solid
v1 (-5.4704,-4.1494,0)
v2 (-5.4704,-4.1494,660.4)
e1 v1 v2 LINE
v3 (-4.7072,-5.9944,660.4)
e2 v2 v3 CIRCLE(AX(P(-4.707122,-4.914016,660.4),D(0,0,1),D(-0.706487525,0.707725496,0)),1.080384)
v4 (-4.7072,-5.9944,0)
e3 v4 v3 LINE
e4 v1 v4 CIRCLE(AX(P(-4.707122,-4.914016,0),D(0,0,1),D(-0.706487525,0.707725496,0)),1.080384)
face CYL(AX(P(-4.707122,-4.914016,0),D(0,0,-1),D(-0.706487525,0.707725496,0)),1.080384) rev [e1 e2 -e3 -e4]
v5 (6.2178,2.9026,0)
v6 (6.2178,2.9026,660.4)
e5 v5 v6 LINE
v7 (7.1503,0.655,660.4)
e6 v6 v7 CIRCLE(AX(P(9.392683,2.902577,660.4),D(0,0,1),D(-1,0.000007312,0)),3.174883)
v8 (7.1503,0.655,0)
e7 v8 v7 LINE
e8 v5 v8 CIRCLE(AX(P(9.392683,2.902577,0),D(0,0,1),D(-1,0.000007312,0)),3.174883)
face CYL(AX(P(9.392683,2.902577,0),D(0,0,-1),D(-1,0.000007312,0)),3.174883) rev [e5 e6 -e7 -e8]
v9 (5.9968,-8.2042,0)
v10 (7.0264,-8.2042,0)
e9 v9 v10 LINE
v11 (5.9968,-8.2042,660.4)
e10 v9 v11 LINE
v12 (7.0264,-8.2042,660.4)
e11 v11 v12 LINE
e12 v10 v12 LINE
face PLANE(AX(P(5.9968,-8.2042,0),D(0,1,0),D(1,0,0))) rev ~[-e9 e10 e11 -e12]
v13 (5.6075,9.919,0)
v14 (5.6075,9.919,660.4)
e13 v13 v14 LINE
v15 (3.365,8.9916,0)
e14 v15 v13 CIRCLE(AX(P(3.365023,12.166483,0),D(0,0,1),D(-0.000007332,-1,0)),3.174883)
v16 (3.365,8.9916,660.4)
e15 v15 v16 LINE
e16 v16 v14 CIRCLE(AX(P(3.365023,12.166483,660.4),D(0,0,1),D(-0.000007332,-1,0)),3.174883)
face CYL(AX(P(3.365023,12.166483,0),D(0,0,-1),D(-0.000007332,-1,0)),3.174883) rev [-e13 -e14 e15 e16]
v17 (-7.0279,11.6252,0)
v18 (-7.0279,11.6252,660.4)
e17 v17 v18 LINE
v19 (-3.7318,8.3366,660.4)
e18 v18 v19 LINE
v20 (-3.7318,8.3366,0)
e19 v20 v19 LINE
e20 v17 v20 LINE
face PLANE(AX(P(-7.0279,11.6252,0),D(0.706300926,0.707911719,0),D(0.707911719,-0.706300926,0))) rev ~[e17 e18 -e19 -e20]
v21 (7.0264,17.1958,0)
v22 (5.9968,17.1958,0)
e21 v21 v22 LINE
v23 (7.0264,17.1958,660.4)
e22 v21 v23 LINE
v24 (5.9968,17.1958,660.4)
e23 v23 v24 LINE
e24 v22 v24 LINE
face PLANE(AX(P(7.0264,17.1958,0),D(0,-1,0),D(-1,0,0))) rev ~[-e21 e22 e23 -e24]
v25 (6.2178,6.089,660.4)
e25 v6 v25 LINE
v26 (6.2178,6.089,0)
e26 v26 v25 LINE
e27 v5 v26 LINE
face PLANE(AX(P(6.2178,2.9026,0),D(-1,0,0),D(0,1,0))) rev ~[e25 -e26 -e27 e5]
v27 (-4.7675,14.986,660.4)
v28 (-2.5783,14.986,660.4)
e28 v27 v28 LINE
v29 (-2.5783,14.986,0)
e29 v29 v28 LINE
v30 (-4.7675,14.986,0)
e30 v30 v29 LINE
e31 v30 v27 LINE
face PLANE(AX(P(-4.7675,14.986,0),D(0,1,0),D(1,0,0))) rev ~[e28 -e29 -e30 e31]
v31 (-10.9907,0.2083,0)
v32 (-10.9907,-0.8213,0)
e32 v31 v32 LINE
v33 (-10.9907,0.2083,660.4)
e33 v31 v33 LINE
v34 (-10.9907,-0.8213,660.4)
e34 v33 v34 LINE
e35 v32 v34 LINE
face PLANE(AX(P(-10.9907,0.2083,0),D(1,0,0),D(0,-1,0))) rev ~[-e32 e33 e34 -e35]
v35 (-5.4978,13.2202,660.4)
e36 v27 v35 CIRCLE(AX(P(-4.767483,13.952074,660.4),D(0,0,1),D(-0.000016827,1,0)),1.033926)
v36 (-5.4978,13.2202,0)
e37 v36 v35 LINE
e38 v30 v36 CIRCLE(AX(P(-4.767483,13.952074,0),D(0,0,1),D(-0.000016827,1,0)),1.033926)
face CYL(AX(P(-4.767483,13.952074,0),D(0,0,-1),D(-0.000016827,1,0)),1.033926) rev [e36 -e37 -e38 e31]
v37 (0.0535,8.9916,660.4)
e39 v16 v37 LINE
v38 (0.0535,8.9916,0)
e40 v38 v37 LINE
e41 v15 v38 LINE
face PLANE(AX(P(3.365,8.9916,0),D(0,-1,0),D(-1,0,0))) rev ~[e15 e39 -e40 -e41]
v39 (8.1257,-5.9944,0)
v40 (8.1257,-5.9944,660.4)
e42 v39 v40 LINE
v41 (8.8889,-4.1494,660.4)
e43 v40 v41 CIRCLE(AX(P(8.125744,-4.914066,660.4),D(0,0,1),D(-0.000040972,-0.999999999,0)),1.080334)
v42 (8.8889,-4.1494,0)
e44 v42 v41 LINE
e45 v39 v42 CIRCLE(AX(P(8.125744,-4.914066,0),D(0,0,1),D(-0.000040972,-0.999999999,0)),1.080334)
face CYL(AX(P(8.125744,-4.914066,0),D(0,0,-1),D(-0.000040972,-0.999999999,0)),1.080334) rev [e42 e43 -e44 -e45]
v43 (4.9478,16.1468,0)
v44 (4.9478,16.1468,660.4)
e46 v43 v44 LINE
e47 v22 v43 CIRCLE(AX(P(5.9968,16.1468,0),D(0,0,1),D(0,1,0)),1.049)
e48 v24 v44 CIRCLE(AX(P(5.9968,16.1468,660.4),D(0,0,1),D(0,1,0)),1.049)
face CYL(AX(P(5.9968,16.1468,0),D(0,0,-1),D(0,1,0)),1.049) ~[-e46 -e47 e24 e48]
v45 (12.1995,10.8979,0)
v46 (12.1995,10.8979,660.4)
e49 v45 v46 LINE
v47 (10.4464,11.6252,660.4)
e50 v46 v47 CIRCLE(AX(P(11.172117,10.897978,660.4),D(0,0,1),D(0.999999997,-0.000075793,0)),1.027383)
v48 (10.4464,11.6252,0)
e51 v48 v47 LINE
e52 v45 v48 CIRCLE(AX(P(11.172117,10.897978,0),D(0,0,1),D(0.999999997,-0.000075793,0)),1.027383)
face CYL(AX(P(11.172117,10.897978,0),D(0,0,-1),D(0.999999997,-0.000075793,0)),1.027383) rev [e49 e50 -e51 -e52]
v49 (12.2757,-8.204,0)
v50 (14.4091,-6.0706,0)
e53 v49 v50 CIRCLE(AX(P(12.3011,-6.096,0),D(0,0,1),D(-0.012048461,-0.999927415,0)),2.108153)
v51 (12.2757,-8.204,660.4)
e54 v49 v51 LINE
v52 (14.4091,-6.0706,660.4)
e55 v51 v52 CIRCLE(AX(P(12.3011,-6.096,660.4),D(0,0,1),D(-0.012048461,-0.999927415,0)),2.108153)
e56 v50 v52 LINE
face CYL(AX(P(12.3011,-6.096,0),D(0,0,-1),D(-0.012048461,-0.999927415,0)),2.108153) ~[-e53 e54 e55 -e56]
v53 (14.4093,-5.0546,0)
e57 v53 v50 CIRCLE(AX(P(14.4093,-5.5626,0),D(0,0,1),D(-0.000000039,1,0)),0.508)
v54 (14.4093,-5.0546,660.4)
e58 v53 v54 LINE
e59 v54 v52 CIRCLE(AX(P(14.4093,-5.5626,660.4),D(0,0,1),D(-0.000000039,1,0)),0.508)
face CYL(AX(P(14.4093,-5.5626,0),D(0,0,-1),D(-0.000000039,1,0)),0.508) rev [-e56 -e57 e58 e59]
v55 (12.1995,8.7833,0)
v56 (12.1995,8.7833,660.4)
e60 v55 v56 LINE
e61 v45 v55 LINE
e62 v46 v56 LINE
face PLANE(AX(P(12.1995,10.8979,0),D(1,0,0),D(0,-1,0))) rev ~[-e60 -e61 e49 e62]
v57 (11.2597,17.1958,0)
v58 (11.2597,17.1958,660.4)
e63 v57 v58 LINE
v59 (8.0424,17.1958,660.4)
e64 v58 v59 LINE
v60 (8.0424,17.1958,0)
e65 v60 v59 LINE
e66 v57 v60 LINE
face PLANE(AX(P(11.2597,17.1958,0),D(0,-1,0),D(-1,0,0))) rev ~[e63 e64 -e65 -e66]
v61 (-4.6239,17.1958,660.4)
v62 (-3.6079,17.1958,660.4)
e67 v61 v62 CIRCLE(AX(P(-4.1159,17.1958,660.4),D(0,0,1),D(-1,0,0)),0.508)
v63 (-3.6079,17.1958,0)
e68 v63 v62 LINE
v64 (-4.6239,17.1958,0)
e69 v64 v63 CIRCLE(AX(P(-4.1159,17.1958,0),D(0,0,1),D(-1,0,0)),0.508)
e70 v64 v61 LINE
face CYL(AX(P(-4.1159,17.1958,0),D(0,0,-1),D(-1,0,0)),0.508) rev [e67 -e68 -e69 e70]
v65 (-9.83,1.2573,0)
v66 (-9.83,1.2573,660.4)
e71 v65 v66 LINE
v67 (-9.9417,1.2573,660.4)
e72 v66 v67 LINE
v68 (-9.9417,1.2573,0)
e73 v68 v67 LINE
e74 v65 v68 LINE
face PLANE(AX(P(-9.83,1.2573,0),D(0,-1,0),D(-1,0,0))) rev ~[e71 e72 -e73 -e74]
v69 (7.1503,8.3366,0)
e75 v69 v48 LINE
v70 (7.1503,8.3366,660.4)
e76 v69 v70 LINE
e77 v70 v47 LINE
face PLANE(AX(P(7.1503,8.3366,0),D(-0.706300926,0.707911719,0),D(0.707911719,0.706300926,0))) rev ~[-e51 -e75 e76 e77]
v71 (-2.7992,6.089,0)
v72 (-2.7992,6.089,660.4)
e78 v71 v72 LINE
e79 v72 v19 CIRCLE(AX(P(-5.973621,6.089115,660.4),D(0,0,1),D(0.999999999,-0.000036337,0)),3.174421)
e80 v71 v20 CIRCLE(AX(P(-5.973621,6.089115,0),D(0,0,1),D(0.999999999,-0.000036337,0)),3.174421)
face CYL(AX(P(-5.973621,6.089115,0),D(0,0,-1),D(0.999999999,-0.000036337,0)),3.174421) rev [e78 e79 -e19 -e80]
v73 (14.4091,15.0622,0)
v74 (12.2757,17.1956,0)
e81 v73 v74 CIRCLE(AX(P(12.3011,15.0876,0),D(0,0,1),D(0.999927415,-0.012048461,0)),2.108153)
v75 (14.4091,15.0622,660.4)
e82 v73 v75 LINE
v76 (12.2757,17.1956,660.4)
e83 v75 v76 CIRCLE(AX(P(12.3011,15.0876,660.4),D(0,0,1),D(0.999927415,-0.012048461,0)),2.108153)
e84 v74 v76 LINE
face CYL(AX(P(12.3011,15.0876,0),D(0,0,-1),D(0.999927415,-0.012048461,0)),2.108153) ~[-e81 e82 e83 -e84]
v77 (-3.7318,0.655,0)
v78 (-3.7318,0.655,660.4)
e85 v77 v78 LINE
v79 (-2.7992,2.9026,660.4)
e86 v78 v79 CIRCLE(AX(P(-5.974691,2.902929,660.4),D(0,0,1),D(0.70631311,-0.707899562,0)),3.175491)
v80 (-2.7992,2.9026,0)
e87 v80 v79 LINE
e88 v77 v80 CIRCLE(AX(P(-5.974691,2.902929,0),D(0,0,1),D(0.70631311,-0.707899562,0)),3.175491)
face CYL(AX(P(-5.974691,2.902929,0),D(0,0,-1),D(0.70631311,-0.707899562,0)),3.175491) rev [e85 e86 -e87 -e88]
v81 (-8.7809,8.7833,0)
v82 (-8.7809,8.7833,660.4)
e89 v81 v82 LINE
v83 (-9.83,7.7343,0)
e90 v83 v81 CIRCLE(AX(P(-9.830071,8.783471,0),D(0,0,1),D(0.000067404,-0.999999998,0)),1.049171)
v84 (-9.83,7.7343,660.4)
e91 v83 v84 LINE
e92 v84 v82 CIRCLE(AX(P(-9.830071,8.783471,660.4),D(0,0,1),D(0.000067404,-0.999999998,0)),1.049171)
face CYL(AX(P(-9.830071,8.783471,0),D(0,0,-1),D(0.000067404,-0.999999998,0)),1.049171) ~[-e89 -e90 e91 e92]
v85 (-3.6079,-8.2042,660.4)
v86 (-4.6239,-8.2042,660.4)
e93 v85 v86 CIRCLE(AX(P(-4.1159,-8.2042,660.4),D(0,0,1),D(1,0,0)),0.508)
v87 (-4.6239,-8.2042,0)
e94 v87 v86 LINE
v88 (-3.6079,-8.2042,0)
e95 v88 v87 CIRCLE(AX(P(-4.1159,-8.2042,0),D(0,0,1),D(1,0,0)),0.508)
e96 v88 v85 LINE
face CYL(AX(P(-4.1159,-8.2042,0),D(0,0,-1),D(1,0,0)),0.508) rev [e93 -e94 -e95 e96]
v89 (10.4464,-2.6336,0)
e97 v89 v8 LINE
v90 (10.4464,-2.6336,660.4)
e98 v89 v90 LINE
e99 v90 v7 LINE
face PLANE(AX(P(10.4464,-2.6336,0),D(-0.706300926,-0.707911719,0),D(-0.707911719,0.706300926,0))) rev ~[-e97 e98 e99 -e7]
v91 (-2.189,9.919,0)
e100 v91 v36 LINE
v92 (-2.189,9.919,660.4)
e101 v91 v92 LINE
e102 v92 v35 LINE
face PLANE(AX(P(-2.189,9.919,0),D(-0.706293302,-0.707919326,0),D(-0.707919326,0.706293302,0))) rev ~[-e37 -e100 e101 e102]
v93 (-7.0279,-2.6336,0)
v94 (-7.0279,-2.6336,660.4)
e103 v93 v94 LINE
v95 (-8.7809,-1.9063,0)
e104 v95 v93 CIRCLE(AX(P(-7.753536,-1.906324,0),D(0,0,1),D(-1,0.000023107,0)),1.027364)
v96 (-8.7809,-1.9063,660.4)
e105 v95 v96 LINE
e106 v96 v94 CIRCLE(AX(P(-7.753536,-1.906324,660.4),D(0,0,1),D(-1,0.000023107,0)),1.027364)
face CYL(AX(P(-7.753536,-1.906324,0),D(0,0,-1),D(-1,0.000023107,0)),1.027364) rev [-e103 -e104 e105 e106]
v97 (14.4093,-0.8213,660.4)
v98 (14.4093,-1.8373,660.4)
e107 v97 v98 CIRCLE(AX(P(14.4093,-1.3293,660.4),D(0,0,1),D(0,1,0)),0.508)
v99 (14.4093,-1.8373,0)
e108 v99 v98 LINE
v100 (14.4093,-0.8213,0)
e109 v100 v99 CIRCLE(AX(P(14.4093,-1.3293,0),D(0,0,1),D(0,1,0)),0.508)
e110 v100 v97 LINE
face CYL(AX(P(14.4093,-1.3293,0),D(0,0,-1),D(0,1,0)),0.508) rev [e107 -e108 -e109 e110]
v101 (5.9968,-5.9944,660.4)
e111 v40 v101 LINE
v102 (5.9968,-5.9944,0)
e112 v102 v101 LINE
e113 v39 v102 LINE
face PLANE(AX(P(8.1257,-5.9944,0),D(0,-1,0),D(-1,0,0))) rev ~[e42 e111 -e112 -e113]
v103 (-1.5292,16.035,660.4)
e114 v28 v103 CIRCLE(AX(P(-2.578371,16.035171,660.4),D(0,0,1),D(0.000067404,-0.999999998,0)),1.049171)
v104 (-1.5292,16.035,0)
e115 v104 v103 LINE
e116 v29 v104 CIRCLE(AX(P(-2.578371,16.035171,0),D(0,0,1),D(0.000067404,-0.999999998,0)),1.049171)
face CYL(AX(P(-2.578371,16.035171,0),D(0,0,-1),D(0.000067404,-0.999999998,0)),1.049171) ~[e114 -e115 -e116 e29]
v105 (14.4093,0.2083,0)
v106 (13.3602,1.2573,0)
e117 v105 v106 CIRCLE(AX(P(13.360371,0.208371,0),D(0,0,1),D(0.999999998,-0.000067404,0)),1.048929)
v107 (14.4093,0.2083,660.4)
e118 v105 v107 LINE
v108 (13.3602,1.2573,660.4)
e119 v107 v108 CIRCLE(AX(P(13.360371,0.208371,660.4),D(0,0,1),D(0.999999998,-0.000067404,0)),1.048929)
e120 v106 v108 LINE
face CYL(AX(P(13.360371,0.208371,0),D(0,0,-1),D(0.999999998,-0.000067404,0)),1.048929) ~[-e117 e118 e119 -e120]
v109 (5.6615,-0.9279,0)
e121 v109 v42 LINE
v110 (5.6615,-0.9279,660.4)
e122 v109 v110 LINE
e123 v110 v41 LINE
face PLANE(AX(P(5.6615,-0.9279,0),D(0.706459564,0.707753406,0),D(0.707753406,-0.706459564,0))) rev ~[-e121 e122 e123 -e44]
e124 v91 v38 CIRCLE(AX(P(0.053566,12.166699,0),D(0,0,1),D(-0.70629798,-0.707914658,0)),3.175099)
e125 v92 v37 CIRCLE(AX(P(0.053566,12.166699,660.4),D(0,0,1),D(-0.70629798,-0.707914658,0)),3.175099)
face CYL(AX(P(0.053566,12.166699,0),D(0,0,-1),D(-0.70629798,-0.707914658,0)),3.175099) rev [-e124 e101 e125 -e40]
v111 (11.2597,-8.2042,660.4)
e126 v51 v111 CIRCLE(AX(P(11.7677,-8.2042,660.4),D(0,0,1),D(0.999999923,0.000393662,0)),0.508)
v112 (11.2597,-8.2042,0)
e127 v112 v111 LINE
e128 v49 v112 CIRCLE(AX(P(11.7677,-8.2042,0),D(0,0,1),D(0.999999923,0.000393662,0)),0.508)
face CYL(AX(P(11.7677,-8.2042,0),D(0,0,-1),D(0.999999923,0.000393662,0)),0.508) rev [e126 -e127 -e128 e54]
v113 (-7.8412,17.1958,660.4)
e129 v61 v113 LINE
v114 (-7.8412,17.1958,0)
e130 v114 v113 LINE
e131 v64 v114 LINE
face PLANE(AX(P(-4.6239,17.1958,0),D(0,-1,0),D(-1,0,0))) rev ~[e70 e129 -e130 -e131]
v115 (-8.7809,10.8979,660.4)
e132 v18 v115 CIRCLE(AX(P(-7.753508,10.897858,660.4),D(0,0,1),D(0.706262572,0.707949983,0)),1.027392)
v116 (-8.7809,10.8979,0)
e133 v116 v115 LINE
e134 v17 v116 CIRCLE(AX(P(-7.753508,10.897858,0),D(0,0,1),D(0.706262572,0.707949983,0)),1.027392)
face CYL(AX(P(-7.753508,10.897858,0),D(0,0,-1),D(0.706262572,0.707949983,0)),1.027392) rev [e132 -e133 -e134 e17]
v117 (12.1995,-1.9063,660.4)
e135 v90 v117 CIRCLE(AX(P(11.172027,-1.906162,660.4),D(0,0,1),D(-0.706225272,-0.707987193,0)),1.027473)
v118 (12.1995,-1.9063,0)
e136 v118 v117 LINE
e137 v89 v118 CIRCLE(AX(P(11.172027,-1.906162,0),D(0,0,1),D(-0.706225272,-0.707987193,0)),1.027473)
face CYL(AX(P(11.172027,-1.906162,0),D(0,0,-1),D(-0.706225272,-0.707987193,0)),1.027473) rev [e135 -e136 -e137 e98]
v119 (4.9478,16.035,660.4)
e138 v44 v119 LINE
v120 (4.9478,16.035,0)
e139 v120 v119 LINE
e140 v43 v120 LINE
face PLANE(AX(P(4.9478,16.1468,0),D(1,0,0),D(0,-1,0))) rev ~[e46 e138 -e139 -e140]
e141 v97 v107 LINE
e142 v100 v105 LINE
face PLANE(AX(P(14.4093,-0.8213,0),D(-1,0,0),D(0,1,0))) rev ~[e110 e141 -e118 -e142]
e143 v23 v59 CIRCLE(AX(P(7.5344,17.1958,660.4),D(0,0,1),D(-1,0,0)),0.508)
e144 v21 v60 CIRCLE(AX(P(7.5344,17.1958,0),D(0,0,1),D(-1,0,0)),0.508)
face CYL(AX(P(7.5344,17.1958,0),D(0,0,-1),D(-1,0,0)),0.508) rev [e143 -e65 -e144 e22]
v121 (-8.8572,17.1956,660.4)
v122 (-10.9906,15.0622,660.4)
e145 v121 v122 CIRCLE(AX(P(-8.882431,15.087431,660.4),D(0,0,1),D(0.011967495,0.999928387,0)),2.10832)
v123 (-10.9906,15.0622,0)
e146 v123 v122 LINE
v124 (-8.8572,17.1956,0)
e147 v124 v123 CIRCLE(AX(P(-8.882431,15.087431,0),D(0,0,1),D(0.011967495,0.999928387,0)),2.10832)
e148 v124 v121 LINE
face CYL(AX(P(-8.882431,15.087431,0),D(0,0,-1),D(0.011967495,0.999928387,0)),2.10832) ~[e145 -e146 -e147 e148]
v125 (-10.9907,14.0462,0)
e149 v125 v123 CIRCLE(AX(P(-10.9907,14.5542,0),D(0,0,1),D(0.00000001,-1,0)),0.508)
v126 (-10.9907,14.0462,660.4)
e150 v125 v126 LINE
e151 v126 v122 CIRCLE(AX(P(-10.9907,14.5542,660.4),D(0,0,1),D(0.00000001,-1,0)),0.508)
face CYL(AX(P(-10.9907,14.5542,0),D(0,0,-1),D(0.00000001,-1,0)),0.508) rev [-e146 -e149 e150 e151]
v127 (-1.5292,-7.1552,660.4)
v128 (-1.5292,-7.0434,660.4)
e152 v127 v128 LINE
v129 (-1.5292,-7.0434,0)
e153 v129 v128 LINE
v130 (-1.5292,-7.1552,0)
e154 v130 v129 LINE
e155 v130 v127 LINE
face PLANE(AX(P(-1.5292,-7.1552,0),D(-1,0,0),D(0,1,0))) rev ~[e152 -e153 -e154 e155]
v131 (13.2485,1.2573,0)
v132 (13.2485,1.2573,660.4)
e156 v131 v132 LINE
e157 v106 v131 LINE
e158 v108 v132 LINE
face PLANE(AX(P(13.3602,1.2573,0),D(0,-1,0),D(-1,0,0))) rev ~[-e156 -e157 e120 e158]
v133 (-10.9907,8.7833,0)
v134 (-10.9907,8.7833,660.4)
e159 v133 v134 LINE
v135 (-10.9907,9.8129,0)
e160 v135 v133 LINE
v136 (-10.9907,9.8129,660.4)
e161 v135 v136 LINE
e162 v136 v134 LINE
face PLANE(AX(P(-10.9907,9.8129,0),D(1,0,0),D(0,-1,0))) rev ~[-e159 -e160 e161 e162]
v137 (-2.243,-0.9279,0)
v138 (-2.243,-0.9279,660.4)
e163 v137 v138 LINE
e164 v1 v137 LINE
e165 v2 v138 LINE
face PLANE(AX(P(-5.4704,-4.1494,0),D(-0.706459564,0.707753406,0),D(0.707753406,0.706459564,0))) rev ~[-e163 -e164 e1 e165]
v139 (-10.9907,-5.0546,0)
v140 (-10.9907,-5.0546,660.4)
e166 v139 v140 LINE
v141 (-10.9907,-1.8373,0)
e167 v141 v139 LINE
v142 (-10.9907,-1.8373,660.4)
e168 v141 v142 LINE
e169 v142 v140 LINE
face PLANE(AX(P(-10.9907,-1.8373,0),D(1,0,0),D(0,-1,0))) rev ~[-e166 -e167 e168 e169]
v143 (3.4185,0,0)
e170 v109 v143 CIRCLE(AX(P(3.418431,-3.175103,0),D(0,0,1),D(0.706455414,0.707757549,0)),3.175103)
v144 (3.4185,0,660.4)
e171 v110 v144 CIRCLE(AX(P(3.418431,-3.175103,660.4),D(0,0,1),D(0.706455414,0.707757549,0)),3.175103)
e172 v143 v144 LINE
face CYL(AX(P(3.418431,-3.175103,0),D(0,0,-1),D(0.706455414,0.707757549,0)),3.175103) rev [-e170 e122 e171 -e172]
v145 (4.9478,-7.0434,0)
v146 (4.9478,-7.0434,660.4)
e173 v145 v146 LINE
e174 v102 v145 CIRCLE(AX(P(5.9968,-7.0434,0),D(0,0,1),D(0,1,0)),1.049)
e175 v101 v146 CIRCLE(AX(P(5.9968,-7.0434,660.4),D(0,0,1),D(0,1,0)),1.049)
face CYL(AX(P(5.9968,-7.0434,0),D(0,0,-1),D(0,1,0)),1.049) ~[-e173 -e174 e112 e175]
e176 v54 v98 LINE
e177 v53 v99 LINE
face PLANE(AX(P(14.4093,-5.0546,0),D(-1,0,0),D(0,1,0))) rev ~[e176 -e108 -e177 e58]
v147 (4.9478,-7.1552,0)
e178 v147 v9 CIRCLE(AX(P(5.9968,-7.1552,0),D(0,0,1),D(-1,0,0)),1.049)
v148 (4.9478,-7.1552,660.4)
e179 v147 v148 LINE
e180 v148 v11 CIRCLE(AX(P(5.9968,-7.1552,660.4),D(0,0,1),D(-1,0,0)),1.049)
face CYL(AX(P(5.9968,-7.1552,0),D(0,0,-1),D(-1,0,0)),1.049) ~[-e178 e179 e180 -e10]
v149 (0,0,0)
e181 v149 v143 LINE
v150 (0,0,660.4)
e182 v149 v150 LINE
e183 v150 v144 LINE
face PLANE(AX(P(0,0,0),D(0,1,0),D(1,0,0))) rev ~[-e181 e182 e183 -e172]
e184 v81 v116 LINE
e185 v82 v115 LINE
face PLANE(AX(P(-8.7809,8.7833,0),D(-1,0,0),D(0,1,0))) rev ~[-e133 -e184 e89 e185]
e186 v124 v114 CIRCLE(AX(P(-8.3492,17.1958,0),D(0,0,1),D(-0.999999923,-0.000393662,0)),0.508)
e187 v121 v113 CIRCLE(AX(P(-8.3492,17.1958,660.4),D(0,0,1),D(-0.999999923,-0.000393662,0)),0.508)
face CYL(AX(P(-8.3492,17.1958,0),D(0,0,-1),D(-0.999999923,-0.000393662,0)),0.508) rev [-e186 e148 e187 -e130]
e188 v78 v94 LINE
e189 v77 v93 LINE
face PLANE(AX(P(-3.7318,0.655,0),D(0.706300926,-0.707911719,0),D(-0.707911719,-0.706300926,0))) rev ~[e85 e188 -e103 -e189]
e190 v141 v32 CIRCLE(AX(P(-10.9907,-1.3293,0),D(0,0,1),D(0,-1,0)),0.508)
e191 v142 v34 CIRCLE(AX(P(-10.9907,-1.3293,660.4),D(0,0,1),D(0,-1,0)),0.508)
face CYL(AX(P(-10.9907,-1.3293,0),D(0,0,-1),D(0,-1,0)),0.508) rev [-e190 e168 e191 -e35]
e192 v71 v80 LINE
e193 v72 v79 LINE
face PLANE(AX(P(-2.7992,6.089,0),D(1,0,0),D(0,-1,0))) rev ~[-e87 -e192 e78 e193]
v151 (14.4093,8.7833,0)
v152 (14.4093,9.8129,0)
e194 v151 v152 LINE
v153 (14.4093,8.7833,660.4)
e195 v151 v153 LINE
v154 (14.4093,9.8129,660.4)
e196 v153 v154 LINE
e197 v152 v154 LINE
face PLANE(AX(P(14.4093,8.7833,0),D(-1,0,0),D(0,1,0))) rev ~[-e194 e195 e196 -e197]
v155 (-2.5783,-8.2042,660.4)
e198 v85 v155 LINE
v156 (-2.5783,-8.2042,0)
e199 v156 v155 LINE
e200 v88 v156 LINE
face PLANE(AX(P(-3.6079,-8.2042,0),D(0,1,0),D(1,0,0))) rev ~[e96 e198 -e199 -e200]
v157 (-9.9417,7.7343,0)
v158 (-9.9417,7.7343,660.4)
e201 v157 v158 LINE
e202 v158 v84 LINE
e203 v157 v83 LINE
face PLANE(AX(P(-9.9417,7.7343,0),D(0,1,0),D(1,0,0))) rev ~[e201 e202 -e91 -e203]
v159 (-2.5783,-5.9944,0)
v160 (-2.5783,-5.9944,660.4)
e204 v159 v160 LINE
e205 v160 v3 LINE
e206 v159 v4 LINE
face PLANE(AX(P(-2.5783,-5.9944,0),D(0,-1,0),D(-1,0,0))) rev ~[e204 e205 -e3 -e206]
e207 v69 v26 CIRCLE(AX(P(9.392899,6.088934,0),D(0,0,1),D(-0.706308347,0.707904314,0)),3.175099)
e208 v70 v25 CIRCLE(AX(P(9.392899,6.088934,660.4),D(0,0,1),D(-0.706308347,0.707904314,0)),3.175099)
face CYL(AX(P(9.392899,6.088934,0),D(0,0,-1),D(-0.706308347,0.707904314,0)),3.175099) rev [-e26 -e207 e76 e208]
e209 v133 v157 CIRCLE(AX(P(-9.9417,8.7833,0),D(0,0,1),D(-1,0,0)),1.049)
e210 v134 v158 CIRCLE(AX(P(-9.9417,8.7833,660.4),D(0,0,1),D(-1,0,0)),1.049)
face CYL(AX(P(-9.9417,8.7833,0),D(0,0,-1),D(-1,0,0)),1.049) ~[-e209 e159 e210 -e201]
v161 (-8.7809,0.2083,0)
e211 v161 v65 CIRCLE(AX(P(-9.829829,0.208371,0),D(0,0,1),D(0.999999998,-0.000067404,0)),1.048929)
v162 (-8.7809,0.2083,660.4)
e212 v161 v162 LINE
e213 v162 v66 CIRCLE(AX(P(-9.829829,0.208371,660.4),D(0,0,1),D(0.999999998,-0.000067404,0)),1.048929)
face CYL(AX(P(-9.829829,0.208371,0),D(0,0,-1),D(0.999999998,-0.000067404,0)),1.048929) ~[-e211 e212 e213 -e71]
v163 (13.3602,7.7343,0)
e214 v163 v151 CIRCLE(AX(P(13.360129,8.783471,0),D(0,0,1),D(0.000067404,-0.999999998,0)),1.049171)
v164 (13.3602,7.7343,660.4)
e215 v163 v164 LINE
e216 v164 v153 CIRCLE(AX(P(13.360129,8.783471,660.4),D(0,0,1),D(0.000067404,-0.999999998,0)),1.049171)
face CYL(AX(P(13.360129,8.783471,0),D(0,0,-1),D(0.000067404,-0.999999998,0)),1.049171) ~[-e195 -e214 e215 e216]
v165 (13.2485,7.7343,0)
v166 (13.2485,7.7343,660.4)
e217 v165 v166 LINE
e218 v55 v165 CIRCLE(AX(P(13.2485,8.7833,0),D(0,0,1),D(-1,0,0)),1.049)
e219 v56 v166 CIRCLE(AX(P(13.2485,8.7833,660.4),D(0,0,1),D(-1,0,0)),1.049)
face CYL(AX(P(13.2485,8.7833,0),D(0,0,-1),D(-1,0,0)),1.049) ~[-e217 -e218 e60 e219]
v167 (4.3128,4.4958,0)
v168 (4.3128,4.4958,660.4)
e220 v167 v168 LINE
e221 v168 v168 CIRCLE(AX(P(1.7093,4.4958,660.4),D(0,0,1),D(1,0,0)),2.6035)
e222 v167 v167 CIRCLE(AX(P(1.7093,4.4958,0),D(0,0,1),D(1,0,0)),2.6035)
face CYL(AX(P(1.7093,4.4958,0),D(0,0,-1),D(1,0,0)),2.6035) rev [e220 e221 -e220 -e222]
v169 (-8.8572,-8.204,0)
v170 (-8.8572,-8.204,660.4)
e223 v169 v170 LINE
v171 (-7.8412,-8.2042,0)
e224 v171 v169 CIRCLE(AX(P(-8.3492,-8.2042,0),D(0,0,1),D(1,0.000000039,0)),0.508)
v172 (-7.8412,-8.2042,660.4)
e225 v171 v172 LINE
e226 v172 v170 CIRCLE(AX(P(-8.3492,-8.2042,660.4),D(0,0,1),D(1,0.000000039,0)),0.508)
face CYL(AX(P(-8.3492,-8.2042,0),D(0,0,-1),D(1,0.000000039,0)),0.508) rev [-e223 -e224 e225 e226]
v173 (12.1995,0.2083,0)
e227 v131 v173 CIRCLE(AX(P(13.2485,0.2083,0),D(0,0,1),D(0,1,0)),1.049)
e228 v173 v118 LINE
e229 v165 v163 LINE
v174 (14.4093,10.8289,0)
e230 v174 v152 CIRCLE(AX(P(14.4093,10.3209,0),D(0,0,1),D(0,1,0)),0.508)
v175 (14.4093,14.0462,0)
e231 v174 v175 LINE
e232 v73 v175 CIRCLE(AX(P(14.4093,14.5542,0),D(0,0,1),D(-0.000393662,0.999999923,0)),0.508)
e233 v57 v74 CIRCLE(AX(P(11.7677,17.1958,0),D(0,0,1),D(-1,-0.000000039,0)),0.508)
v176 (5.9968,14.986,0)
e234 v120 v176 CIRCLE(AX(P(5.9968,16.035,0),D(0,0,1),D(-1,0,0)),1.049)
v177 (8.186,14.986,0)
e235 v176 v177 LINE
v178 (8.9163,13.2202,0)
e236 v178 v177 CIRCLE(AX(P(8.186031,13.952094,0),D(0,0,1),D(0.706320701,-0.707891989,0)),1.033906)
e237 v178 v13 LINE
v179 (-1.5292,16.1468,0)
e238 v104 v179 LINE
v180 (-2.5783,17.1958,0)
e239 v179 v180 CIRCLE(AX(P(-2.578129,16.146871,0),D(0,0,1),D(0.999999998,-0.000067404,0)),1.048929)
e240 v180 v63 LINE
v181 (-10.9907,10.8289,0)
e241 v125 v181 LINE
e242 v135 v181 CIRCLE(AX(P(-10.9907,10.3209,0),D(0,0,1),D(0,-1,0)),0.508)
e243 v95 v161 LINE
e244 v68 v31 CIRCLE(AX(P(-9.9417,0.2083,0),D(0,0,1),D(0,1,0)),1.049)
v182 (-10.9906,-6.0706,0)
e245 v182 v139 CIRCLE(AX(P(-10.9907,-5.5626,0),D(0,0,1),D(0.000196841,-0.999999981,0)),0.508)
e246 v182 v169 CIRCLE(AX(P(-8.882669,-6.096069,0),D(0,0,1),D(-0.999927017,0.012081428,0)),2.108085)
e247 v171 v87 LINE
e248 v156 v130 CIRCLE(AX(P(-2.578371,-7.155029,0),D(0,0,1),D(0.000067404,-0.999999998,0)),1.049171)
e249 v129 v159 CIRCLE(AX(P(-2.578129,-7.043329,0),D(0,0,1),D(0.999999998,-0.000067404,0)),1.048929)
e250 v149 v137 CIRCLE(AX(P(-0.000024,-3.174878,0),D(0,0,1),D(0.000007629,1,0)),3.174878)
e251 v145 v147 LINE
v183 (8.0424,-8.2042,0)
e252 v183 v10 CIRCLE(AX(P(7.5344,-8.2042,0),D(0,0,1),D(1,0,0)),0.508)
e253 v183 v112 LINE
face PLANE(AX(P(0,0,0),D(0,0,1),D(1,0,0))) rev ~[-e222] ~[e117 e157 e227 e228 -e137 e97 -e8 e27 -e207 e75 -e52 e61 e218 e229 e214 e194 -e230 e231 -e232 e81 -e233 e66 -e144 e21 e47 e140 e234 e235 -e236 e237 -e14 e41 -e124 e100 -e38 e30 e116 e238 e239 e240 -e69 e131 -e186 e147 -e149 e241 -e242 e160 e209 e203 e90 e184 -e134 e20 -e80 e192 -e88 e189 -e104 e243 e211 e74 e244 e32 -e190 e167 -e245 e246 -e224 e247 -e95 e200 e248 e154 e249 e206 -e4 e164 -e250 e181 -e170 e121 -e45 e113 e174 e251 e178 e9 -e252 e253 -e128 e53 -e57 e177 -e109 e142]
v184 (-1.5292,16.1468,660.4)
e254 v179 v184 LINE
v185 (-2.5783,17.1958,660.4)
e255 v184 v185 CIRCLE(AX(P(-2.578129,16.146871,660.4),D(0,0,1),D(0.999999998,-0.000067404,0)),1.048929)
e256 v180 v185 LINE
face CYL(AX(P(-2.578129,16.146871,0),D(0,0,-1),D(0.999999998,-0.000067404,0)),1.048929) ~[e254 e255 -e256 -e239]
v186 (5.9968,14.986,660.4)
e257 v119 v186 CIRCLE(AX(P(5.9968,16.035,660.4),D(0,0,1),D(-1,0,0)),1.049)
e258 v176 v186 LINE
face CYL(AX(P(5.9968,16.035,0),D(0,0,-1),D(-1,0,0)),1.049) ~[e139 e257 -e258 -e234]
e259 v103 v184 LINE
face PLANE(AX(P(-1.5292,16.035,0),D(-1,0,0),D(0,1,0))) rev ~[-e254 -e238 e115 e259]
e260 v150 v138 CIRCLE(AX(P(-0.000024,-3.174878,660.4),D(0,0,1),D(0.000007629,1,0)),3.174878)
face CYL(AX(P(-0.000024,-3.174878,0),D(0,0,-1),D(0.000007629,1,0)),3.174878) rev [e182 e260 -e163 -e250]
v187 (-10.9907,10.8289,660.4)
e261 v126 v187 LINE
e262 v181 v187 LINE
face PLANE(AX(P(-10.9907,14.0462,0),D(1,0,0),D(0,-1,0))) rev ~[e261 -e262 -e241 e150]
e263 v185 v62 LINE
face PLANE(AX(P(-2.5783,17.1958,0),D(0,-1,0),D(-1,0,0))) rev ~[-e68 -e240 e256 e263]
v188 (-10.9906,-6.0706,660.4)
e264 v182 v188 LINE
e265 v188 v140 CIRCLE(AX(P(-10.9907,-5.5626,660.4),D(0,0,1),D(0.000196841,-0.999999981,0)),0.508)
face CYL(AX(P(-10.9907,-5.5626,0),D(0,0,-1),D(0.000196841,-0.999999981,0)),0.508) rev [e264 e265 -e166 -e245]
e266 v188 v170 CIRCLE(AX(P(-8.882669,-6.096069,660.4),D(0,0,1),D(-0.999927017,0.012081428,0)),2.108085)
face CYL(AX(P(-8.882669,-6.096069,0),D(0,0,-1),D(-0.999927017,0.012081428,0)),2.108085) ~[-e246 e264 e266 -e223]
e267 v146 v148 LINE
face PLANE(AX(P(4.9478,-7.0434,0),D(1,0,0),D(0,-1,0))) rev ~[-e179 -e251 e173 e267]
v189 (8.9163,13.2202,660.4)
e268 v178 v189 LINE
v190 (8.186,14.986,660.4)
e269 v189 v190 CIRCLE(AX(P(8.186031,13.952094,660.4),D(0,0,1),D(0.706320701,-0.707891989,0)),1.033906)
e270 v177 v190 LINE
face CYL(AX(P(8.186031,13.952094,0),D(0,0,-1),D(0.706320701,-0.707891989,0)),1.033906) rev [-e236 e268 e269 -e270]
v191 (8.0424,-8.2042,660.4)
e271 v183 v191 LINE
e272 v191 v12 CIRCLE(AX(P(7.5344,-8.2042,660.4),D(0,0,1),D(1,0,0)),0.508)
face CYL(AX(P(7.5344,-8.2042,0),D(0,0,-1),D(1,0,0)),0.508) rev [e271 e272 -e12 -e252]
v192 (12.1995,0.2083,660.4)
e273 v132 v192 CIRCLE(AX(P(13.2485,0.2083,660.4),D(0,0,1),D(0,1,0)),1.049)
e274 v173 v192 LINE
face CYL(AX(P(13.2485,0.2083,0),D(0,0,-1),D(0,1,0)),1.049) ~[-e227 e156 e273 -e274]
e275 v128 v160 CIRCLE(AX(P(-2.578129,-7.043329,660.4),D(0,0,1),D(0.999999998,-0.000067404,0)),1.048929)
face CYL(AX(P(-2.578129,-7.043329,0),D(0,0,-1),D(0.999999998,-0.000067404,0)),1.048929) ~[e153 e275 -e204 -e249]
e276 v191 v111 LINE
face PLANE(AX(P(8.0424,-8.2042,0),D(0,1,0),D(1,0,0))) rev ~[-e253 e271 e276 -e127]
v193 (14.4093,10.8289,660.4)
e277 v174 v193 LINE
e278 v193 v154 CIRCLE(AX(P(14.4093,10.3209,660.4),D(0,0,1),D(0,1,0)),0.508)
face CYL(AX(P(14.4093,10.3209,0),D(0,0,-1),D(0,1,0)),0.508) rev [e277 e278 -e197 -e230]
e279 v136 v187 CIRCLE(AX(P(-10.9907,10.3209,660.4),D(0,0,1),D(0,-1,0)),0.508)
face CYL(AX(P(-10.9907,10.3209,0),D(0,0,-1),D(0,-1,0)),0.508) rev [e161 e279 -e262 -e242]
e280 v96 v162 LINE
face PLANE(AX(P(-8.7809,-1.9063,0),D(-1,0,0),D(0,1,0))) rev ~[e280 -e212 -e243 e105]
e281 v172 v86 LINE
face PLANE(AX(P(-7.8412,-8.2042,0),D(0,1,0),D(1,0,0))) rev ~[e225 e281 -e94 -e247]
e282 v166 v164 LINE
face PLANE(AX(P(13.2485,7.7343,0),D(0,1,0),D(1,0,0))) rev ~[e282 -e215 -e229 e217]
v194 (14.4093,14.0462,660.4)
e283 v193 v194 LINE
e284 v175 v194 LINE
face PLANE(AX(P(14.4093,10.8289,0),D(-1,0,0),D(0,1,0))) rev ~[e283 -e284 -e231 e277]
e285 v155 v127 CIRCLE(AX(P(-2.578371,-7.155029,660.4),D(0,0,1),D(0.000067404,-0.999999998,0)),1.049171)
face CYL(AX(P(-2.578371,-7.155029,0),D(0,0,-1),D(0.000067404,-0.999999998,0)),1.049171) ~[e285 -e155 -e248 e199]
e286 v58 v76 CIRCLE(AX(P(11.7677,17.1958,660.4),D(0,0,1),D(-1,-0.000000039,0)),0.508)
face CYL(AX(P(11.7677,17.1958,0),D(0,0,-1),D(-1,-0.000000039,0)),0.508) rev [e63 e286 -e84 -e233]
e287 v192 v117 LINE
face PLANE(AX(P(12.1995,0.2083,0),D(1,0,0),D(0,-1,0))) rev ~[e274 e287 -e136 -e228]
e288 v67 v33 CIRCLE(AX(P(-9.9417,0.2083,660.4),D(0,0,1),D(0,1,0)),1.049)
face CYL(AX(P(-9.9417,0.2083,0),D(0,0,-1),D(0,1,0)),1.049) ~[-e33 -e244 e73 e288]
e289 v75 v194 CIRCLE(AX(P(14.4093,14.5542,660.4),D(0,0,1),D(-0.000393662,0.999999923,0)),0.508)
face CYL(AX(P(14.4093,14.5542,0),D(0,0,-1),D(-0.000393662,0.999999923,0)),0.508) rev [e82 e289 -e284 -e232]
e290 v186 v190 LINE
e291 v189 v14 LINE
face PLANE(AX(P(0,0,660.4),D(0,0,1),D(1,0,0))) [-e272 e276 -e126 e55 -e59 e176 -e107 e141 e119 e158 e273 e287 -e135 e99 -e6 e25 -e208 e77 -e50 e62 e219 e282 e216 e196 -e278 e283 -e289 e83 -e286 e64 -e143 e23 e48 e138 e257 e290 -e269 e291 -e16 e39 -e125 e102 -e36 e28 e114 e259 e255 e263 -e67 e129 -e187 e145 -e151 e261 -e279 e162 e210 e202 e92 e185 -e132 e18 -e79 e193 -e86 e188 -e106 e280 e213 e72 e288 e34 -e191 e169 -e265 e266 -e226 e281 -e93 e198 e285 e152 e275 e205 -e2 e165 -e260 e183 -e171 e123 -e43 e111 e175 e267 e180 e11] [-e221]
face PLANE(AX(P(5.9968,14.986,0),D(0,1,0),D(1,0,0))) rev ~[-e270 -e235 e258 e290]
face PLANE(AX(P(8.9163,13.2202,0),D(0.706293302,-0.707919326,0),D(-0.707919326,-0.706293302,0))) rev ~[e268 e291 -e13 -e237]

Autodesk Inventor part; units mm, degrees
ref_plane "YZ Plane" through (0, 0, 0) normal (1, 0, 0) x (0, 1, 0)
ref_plane "XZ Plane" through (0, 0, 0) normal (0, 1, 0) x (-1, 0, 0)
ref_plane "XY Plane" through (0, 0, 0) normal (0, 0, 1) x (1, 0, 0)
sketch "Sketch1" plane through (0, 0, 0) normal (0, 0, 1) x (1, 0, 0)
  arc A0 (-5.4704, -4.1494) -> (-4.7072, -5.9944) centre (-4.7072, -4.914) ccw
  line L0 (-5.4704, -4.1494) -> (-2.243, -0.9279)
  arc A1 (0, 0) -> (-2.243, -0.9279) centre (0, -3.175) ccw
  line L1 (0, 0) -> (3.4185, 0)
  arc A2 (5.6615, -0.9279) -> (3.4185, 0) centre (3.4185, -3.175) ccw
  line L2 (5.6615, -0.9279) -> (8.8889, -4.1494)
  arc A3 (8.1257, -5.9944) -> (8.8889, -4.1494) centre (8.1257, -4.914) ccw
  line L3 (8.1257, -5.9944) -> (5.9968, -5.9944)
  arc A4 (5.9968, -5.9944) -> (4.9478, -7.0434) centre (5.9968, -7.0434) ccw
  line L4 (4.9478, -7.0434) -> (4.9478, -7.1552)
  arc A5 (4.9478, -7.1552) -> (5.9968, -8.2042) centre (5.9968, -7.1552) ccw
  line L5 (5.9968, -8.2042) -> (7.0264, -8.2042)
  arc A6 (8.0424, -8.2042) -> (7.0264, -8.2042) centre (7.5344, -8.2042) ccw
  line L6 (8.0424, -8.2042) -> (11.2597, -8.2042)
  arc A7 (12.2757, -8.204) -> (11.2597, -8.2042) centre (11.7677, -8.2042) ccw
  arc A8 (12.2757, -8.204) -> (14.4091, -6.0706) centre (12.3011, -6.096) ccw
  arc A9 (14.4093, -5.0546) -> (14.4091, -6.0706) centre (14.4093, -5.5626) ccw
  line L7 (14.4093, -5.0546) -> (14.4093, -1.8373)
  arc A10 (14.4093, -0.8213) -> (14.4093, -1.8373) centre (14.4093, -1.3293) ccw
  line L8 (14.4093, -0.8213) -> (14.4093, 0.2083)
  arc A11 (14.4093, 0.2083) -> (13.3602, 1.2573) centre (13.3602, 0.2083) ccw
  line L9 (13.3602, 1.2573) -> (13.2485, 1.2573)
  arc A12 (13.2485, 1.2573) -> (12.1995, 0.2083) centre (13.2485, 0.2083) ccw
  line L10 (12.1995, 0.2083) -> (12.1995, -1.9063)
  arc A13 (10.4464, -2.6336) -> (12.1995, -1.9063) centre (11.172, -1.9063) ccw
  line L11 (10.4464, -2.6336) -> (7.1503, 0.655)
  arc A14 (6.2178, 2.9026) -> (7.1503, 0.655) centre (9.3928, 2.9026) ccw
  line L12 (6.2178, 2.9026) -> (6.2178, 6.089)
  arc A15 (7.1503, 8.3366) -> (6.2178, 6.089) centre (9.3928, 6.089) ccw
  line L13 (7.1503, 8.3366) -> (10.4464, 11.6252)
  arc A16 (12.1995, 10.8979) -> (10.4464, 11.6252) centre (11.172, 10.8979) ccw
  line L14 (12.1995, 10.8979) -> (12.1995, 8.7833)
  arc A17 (12.1995, 8.7833) -> (13.2485, 7.7343) centre (13.2485, 8.7833) ccw
  line L15 (13.2485, 7.7343) -> (13.3602, 7.7343)
  arc A18 (13.3602, 7.7343) -> (14.4093, 8.7833) centre (13.3602, 8.7833) ccw
  line L16 (14.4093, 8.7833) -> (14.4093, 9.8129)
  arc A19 (14.4093, 10.8289) -> (14.4093, 9.8129) centre (14.4093, 10.3209) ccw
  line L17 (14.4093, 10.8289) -> (14.4093, 14.0462)
  arc A20 (14.4091, 15.0622) -> (14.4093, 14.0462) centre (14.4093, 14.5542) ccw
  arc A21 (14.4091, 15.0622) -> (12.2757, 17.1956) centre (12.3011, 15.0876) ccw
  arc A22 (11.2597, 17.1958) -> (12.2757, 17.1956) centre (11.7677, 17.1958) ccw
  line L18 (11.2597, 17.1958) -> (8.0424, 17.1958)
  arc A23 (7.0264, 17.1958) -> (8.0424, 17.1958) centre (7.5344, 17.1958) ccw
  line L19 (7.0264, 17.1958) -> (5.9968, 17.1958)
  arc A24 (5.9968, 17.1958) -> (4.9478, 16.1468) centre (5.9968, 16.1468) ccw
  line L20 (4.9478, 16.1468) -> (4.9478, 16.035)
  arc A25 (4.9478, 16.035) -> (5.9968, 14.986) centre (5.9968, 16.035) ccw
  line L21 (5.9968, 14.986) -> (8.186, 14.986)
  arc A26 (8.9163, 13.2202) -> (8.186, 14.986) centre (8.186, 13.9521) ccw
  line L22 (8.9163, 13.2202) -> (5.6075, 9.919)
  arc A27 (3.365, 8.9916) -> (5.6075, 9.919) centre (3.365, 12.1666) ccw
  line L23 (3.365, 8.9916) -> (0.0535, 8.9916)
  arc A28 (-2.189, 9.919) -> (0.0535, 8.9916) centre (0.0535, 12.1666) ccw
  line L24 (-2.189, 9.919) -> (-5.4978, 13.2202)
  arc A29 (-4.7675, 14.986) -> (-5.4978, 13.2202) centre (-4.7675, 13.9521) ccw
  line L25 (-4.7675, 14.986) -> (-2.5783, 14.986)
  arc A30 (-2.5783, 14.986) -> (-1.5292, 16.035) centre (-2.5783, 16.035) ccw
  line L26 (-1.5292, 16.035) -> (-1.5292, 16.1468)
  arc A31 (-1.5292, 16.1468) -> (-2.5783, 17.1958) centre (-2.5783, 16.1468) ccw
  line L27 (-2.5783, 17.1958) -> (-3.6079, 17.1958)
  arc A32 (-4.6239, 17.1958) -> (-3.6079, 17.1958) centre (-4.1159, 17.1958) ccw
  line L28 (-4.6239, 17.1958) -> (-7.8412, 17.1958)
  arc A33 (-8.8572, 17.1956) -> (-7.8412, 17.1958) centre (-8.3492, 17.1958) ccw
  arc A34 (-8.8572, 17.1956) -> (-10.9906, 15.0622) centre (-8.8825, 15.0876) ccw
  arc A35 (-10.9907, 14.0462) -> (-10.9906, 15.0622) centre (-10.9907, 14.5542) ccw
  line L29 (-10.9907, 14.0462) -> (-10.9907, 10.8289)
  arc A36 (-10.9907, 9.8129) -> (-10.9907, 10.8289) centre (-10.9907, 10.3209) ccw
  line L30 (-10.9907, 9.8129) -> (-10.9907, 8.7833)
  arc A37 (-10.9907, 8.7833) -> (-9.9417, 7.7343) centre (-9.9417, 8.7833) ccw
  line L31 (-9.9417, 7.7343) -> (-9.83, 7.7343)
  arc A38 (-9.83, 7.7343) -> (-8.7809, 8.7833) centre (-9.83, 8.7833) ccw
  line L32 (-8.7809, 8.7833) -> (-8.7809, 10.8979)
  arc A39 (-7.0279, 11.6252) -> (-8.7809, 10.8979) centre (-7.7535, 10.8979) ccw
  line L33 (-7.0279, 11.6252) -> (-3.7318, 8.3366)
  arc A40 (-2.7992, 6.089) -> (-3.7318, 8.3366) centre (-5.9742, 6.089) ccw
  line L34 (-2.7992, 6.089) -> (-2.7992, 2.9026)
  arc A41 (-3.7318, 0.655) -> (-2.7992, 2.9026) centre (-5.9742, 2.9026) ccw
  line L35 (-3.7318, 0.655) -> (-7.0279, -2.6336)
  arc A42 (-8.7809, -1.9063) -> (-7.0279, -2.6336) centre (-7.7535, -1.9063) ccw
  line L36 (-8.7809, -1.9063) -> (-8.7809, 0.2083)
  arc A43 (-8.7809, 0.2083) -> (-9.83, 1.2573) centre (-9.83, 0.2083) ccw
  line L37 (-9.83, 1.2573) -> (-9.9417, 1.2573)
  arc A44 (-9.9417, 1.2573) -> (-10.9907, 0.2083) centre (-9.9417, 0.2083) ccw
  line L38 (-10.9907, 0.2083) -> (-10.9907, -0.8213)
  arc A45 (-10.9907, -1.8373) -> (-10.9907, -0.8213) centre (-10.9907, -1.3293) ccw
  line L39 (-10.9907, -1.8373) -> (-10.9907, -5.0546)
  arc A46 (-10.9906, -6.0706) -> (-10.9907, -5.0546) centre (-10.9907, -5.5626) ccw
  arc A47 (-10.9906, -6.0706) -> (-8.8572, -8.204) centre (-8.8825, -6.096) ccw
  arc A48 (-7.8412, -8.2042) -> (-8.8572, -8.204) centre (-8.3492, -8.2042) ccw
  line L40 (-7.8412, -8.2042) -> (-4.6239, -8.2042)
  arc A49 (-3.6079, -8.2042) -> (-4.6239, -8.2042) centre (-4.1159, -8.2042) ccw
  line L41 (-3.6079, -8.2042) -> (-2.5783, -8.2042)
  arc A50 (-2.5783, -8.2042) -> (-1.5292, -7.1552) centre (-2.5783, -7.1552) ccw
  line L42 (-1.5292, -7.1552) -> (-1.5292, -7.0434)
  arc A51 (-1.5292, -7.0434) -> (-2.5783, -5.9944) centre (-2.5783, -7.0434) ccw
  line L43 (-2.5783, -5.9944) -> (-4.7072, -5.9944)
  circle A52 centre (1.7093, 4.4958) radius 2.6035
extrude "Extrusion1" add sketch "Sketch1" along normal blind 660.4
properties part number "26 in 1x1 T slot" material "Steel, Alloy"
